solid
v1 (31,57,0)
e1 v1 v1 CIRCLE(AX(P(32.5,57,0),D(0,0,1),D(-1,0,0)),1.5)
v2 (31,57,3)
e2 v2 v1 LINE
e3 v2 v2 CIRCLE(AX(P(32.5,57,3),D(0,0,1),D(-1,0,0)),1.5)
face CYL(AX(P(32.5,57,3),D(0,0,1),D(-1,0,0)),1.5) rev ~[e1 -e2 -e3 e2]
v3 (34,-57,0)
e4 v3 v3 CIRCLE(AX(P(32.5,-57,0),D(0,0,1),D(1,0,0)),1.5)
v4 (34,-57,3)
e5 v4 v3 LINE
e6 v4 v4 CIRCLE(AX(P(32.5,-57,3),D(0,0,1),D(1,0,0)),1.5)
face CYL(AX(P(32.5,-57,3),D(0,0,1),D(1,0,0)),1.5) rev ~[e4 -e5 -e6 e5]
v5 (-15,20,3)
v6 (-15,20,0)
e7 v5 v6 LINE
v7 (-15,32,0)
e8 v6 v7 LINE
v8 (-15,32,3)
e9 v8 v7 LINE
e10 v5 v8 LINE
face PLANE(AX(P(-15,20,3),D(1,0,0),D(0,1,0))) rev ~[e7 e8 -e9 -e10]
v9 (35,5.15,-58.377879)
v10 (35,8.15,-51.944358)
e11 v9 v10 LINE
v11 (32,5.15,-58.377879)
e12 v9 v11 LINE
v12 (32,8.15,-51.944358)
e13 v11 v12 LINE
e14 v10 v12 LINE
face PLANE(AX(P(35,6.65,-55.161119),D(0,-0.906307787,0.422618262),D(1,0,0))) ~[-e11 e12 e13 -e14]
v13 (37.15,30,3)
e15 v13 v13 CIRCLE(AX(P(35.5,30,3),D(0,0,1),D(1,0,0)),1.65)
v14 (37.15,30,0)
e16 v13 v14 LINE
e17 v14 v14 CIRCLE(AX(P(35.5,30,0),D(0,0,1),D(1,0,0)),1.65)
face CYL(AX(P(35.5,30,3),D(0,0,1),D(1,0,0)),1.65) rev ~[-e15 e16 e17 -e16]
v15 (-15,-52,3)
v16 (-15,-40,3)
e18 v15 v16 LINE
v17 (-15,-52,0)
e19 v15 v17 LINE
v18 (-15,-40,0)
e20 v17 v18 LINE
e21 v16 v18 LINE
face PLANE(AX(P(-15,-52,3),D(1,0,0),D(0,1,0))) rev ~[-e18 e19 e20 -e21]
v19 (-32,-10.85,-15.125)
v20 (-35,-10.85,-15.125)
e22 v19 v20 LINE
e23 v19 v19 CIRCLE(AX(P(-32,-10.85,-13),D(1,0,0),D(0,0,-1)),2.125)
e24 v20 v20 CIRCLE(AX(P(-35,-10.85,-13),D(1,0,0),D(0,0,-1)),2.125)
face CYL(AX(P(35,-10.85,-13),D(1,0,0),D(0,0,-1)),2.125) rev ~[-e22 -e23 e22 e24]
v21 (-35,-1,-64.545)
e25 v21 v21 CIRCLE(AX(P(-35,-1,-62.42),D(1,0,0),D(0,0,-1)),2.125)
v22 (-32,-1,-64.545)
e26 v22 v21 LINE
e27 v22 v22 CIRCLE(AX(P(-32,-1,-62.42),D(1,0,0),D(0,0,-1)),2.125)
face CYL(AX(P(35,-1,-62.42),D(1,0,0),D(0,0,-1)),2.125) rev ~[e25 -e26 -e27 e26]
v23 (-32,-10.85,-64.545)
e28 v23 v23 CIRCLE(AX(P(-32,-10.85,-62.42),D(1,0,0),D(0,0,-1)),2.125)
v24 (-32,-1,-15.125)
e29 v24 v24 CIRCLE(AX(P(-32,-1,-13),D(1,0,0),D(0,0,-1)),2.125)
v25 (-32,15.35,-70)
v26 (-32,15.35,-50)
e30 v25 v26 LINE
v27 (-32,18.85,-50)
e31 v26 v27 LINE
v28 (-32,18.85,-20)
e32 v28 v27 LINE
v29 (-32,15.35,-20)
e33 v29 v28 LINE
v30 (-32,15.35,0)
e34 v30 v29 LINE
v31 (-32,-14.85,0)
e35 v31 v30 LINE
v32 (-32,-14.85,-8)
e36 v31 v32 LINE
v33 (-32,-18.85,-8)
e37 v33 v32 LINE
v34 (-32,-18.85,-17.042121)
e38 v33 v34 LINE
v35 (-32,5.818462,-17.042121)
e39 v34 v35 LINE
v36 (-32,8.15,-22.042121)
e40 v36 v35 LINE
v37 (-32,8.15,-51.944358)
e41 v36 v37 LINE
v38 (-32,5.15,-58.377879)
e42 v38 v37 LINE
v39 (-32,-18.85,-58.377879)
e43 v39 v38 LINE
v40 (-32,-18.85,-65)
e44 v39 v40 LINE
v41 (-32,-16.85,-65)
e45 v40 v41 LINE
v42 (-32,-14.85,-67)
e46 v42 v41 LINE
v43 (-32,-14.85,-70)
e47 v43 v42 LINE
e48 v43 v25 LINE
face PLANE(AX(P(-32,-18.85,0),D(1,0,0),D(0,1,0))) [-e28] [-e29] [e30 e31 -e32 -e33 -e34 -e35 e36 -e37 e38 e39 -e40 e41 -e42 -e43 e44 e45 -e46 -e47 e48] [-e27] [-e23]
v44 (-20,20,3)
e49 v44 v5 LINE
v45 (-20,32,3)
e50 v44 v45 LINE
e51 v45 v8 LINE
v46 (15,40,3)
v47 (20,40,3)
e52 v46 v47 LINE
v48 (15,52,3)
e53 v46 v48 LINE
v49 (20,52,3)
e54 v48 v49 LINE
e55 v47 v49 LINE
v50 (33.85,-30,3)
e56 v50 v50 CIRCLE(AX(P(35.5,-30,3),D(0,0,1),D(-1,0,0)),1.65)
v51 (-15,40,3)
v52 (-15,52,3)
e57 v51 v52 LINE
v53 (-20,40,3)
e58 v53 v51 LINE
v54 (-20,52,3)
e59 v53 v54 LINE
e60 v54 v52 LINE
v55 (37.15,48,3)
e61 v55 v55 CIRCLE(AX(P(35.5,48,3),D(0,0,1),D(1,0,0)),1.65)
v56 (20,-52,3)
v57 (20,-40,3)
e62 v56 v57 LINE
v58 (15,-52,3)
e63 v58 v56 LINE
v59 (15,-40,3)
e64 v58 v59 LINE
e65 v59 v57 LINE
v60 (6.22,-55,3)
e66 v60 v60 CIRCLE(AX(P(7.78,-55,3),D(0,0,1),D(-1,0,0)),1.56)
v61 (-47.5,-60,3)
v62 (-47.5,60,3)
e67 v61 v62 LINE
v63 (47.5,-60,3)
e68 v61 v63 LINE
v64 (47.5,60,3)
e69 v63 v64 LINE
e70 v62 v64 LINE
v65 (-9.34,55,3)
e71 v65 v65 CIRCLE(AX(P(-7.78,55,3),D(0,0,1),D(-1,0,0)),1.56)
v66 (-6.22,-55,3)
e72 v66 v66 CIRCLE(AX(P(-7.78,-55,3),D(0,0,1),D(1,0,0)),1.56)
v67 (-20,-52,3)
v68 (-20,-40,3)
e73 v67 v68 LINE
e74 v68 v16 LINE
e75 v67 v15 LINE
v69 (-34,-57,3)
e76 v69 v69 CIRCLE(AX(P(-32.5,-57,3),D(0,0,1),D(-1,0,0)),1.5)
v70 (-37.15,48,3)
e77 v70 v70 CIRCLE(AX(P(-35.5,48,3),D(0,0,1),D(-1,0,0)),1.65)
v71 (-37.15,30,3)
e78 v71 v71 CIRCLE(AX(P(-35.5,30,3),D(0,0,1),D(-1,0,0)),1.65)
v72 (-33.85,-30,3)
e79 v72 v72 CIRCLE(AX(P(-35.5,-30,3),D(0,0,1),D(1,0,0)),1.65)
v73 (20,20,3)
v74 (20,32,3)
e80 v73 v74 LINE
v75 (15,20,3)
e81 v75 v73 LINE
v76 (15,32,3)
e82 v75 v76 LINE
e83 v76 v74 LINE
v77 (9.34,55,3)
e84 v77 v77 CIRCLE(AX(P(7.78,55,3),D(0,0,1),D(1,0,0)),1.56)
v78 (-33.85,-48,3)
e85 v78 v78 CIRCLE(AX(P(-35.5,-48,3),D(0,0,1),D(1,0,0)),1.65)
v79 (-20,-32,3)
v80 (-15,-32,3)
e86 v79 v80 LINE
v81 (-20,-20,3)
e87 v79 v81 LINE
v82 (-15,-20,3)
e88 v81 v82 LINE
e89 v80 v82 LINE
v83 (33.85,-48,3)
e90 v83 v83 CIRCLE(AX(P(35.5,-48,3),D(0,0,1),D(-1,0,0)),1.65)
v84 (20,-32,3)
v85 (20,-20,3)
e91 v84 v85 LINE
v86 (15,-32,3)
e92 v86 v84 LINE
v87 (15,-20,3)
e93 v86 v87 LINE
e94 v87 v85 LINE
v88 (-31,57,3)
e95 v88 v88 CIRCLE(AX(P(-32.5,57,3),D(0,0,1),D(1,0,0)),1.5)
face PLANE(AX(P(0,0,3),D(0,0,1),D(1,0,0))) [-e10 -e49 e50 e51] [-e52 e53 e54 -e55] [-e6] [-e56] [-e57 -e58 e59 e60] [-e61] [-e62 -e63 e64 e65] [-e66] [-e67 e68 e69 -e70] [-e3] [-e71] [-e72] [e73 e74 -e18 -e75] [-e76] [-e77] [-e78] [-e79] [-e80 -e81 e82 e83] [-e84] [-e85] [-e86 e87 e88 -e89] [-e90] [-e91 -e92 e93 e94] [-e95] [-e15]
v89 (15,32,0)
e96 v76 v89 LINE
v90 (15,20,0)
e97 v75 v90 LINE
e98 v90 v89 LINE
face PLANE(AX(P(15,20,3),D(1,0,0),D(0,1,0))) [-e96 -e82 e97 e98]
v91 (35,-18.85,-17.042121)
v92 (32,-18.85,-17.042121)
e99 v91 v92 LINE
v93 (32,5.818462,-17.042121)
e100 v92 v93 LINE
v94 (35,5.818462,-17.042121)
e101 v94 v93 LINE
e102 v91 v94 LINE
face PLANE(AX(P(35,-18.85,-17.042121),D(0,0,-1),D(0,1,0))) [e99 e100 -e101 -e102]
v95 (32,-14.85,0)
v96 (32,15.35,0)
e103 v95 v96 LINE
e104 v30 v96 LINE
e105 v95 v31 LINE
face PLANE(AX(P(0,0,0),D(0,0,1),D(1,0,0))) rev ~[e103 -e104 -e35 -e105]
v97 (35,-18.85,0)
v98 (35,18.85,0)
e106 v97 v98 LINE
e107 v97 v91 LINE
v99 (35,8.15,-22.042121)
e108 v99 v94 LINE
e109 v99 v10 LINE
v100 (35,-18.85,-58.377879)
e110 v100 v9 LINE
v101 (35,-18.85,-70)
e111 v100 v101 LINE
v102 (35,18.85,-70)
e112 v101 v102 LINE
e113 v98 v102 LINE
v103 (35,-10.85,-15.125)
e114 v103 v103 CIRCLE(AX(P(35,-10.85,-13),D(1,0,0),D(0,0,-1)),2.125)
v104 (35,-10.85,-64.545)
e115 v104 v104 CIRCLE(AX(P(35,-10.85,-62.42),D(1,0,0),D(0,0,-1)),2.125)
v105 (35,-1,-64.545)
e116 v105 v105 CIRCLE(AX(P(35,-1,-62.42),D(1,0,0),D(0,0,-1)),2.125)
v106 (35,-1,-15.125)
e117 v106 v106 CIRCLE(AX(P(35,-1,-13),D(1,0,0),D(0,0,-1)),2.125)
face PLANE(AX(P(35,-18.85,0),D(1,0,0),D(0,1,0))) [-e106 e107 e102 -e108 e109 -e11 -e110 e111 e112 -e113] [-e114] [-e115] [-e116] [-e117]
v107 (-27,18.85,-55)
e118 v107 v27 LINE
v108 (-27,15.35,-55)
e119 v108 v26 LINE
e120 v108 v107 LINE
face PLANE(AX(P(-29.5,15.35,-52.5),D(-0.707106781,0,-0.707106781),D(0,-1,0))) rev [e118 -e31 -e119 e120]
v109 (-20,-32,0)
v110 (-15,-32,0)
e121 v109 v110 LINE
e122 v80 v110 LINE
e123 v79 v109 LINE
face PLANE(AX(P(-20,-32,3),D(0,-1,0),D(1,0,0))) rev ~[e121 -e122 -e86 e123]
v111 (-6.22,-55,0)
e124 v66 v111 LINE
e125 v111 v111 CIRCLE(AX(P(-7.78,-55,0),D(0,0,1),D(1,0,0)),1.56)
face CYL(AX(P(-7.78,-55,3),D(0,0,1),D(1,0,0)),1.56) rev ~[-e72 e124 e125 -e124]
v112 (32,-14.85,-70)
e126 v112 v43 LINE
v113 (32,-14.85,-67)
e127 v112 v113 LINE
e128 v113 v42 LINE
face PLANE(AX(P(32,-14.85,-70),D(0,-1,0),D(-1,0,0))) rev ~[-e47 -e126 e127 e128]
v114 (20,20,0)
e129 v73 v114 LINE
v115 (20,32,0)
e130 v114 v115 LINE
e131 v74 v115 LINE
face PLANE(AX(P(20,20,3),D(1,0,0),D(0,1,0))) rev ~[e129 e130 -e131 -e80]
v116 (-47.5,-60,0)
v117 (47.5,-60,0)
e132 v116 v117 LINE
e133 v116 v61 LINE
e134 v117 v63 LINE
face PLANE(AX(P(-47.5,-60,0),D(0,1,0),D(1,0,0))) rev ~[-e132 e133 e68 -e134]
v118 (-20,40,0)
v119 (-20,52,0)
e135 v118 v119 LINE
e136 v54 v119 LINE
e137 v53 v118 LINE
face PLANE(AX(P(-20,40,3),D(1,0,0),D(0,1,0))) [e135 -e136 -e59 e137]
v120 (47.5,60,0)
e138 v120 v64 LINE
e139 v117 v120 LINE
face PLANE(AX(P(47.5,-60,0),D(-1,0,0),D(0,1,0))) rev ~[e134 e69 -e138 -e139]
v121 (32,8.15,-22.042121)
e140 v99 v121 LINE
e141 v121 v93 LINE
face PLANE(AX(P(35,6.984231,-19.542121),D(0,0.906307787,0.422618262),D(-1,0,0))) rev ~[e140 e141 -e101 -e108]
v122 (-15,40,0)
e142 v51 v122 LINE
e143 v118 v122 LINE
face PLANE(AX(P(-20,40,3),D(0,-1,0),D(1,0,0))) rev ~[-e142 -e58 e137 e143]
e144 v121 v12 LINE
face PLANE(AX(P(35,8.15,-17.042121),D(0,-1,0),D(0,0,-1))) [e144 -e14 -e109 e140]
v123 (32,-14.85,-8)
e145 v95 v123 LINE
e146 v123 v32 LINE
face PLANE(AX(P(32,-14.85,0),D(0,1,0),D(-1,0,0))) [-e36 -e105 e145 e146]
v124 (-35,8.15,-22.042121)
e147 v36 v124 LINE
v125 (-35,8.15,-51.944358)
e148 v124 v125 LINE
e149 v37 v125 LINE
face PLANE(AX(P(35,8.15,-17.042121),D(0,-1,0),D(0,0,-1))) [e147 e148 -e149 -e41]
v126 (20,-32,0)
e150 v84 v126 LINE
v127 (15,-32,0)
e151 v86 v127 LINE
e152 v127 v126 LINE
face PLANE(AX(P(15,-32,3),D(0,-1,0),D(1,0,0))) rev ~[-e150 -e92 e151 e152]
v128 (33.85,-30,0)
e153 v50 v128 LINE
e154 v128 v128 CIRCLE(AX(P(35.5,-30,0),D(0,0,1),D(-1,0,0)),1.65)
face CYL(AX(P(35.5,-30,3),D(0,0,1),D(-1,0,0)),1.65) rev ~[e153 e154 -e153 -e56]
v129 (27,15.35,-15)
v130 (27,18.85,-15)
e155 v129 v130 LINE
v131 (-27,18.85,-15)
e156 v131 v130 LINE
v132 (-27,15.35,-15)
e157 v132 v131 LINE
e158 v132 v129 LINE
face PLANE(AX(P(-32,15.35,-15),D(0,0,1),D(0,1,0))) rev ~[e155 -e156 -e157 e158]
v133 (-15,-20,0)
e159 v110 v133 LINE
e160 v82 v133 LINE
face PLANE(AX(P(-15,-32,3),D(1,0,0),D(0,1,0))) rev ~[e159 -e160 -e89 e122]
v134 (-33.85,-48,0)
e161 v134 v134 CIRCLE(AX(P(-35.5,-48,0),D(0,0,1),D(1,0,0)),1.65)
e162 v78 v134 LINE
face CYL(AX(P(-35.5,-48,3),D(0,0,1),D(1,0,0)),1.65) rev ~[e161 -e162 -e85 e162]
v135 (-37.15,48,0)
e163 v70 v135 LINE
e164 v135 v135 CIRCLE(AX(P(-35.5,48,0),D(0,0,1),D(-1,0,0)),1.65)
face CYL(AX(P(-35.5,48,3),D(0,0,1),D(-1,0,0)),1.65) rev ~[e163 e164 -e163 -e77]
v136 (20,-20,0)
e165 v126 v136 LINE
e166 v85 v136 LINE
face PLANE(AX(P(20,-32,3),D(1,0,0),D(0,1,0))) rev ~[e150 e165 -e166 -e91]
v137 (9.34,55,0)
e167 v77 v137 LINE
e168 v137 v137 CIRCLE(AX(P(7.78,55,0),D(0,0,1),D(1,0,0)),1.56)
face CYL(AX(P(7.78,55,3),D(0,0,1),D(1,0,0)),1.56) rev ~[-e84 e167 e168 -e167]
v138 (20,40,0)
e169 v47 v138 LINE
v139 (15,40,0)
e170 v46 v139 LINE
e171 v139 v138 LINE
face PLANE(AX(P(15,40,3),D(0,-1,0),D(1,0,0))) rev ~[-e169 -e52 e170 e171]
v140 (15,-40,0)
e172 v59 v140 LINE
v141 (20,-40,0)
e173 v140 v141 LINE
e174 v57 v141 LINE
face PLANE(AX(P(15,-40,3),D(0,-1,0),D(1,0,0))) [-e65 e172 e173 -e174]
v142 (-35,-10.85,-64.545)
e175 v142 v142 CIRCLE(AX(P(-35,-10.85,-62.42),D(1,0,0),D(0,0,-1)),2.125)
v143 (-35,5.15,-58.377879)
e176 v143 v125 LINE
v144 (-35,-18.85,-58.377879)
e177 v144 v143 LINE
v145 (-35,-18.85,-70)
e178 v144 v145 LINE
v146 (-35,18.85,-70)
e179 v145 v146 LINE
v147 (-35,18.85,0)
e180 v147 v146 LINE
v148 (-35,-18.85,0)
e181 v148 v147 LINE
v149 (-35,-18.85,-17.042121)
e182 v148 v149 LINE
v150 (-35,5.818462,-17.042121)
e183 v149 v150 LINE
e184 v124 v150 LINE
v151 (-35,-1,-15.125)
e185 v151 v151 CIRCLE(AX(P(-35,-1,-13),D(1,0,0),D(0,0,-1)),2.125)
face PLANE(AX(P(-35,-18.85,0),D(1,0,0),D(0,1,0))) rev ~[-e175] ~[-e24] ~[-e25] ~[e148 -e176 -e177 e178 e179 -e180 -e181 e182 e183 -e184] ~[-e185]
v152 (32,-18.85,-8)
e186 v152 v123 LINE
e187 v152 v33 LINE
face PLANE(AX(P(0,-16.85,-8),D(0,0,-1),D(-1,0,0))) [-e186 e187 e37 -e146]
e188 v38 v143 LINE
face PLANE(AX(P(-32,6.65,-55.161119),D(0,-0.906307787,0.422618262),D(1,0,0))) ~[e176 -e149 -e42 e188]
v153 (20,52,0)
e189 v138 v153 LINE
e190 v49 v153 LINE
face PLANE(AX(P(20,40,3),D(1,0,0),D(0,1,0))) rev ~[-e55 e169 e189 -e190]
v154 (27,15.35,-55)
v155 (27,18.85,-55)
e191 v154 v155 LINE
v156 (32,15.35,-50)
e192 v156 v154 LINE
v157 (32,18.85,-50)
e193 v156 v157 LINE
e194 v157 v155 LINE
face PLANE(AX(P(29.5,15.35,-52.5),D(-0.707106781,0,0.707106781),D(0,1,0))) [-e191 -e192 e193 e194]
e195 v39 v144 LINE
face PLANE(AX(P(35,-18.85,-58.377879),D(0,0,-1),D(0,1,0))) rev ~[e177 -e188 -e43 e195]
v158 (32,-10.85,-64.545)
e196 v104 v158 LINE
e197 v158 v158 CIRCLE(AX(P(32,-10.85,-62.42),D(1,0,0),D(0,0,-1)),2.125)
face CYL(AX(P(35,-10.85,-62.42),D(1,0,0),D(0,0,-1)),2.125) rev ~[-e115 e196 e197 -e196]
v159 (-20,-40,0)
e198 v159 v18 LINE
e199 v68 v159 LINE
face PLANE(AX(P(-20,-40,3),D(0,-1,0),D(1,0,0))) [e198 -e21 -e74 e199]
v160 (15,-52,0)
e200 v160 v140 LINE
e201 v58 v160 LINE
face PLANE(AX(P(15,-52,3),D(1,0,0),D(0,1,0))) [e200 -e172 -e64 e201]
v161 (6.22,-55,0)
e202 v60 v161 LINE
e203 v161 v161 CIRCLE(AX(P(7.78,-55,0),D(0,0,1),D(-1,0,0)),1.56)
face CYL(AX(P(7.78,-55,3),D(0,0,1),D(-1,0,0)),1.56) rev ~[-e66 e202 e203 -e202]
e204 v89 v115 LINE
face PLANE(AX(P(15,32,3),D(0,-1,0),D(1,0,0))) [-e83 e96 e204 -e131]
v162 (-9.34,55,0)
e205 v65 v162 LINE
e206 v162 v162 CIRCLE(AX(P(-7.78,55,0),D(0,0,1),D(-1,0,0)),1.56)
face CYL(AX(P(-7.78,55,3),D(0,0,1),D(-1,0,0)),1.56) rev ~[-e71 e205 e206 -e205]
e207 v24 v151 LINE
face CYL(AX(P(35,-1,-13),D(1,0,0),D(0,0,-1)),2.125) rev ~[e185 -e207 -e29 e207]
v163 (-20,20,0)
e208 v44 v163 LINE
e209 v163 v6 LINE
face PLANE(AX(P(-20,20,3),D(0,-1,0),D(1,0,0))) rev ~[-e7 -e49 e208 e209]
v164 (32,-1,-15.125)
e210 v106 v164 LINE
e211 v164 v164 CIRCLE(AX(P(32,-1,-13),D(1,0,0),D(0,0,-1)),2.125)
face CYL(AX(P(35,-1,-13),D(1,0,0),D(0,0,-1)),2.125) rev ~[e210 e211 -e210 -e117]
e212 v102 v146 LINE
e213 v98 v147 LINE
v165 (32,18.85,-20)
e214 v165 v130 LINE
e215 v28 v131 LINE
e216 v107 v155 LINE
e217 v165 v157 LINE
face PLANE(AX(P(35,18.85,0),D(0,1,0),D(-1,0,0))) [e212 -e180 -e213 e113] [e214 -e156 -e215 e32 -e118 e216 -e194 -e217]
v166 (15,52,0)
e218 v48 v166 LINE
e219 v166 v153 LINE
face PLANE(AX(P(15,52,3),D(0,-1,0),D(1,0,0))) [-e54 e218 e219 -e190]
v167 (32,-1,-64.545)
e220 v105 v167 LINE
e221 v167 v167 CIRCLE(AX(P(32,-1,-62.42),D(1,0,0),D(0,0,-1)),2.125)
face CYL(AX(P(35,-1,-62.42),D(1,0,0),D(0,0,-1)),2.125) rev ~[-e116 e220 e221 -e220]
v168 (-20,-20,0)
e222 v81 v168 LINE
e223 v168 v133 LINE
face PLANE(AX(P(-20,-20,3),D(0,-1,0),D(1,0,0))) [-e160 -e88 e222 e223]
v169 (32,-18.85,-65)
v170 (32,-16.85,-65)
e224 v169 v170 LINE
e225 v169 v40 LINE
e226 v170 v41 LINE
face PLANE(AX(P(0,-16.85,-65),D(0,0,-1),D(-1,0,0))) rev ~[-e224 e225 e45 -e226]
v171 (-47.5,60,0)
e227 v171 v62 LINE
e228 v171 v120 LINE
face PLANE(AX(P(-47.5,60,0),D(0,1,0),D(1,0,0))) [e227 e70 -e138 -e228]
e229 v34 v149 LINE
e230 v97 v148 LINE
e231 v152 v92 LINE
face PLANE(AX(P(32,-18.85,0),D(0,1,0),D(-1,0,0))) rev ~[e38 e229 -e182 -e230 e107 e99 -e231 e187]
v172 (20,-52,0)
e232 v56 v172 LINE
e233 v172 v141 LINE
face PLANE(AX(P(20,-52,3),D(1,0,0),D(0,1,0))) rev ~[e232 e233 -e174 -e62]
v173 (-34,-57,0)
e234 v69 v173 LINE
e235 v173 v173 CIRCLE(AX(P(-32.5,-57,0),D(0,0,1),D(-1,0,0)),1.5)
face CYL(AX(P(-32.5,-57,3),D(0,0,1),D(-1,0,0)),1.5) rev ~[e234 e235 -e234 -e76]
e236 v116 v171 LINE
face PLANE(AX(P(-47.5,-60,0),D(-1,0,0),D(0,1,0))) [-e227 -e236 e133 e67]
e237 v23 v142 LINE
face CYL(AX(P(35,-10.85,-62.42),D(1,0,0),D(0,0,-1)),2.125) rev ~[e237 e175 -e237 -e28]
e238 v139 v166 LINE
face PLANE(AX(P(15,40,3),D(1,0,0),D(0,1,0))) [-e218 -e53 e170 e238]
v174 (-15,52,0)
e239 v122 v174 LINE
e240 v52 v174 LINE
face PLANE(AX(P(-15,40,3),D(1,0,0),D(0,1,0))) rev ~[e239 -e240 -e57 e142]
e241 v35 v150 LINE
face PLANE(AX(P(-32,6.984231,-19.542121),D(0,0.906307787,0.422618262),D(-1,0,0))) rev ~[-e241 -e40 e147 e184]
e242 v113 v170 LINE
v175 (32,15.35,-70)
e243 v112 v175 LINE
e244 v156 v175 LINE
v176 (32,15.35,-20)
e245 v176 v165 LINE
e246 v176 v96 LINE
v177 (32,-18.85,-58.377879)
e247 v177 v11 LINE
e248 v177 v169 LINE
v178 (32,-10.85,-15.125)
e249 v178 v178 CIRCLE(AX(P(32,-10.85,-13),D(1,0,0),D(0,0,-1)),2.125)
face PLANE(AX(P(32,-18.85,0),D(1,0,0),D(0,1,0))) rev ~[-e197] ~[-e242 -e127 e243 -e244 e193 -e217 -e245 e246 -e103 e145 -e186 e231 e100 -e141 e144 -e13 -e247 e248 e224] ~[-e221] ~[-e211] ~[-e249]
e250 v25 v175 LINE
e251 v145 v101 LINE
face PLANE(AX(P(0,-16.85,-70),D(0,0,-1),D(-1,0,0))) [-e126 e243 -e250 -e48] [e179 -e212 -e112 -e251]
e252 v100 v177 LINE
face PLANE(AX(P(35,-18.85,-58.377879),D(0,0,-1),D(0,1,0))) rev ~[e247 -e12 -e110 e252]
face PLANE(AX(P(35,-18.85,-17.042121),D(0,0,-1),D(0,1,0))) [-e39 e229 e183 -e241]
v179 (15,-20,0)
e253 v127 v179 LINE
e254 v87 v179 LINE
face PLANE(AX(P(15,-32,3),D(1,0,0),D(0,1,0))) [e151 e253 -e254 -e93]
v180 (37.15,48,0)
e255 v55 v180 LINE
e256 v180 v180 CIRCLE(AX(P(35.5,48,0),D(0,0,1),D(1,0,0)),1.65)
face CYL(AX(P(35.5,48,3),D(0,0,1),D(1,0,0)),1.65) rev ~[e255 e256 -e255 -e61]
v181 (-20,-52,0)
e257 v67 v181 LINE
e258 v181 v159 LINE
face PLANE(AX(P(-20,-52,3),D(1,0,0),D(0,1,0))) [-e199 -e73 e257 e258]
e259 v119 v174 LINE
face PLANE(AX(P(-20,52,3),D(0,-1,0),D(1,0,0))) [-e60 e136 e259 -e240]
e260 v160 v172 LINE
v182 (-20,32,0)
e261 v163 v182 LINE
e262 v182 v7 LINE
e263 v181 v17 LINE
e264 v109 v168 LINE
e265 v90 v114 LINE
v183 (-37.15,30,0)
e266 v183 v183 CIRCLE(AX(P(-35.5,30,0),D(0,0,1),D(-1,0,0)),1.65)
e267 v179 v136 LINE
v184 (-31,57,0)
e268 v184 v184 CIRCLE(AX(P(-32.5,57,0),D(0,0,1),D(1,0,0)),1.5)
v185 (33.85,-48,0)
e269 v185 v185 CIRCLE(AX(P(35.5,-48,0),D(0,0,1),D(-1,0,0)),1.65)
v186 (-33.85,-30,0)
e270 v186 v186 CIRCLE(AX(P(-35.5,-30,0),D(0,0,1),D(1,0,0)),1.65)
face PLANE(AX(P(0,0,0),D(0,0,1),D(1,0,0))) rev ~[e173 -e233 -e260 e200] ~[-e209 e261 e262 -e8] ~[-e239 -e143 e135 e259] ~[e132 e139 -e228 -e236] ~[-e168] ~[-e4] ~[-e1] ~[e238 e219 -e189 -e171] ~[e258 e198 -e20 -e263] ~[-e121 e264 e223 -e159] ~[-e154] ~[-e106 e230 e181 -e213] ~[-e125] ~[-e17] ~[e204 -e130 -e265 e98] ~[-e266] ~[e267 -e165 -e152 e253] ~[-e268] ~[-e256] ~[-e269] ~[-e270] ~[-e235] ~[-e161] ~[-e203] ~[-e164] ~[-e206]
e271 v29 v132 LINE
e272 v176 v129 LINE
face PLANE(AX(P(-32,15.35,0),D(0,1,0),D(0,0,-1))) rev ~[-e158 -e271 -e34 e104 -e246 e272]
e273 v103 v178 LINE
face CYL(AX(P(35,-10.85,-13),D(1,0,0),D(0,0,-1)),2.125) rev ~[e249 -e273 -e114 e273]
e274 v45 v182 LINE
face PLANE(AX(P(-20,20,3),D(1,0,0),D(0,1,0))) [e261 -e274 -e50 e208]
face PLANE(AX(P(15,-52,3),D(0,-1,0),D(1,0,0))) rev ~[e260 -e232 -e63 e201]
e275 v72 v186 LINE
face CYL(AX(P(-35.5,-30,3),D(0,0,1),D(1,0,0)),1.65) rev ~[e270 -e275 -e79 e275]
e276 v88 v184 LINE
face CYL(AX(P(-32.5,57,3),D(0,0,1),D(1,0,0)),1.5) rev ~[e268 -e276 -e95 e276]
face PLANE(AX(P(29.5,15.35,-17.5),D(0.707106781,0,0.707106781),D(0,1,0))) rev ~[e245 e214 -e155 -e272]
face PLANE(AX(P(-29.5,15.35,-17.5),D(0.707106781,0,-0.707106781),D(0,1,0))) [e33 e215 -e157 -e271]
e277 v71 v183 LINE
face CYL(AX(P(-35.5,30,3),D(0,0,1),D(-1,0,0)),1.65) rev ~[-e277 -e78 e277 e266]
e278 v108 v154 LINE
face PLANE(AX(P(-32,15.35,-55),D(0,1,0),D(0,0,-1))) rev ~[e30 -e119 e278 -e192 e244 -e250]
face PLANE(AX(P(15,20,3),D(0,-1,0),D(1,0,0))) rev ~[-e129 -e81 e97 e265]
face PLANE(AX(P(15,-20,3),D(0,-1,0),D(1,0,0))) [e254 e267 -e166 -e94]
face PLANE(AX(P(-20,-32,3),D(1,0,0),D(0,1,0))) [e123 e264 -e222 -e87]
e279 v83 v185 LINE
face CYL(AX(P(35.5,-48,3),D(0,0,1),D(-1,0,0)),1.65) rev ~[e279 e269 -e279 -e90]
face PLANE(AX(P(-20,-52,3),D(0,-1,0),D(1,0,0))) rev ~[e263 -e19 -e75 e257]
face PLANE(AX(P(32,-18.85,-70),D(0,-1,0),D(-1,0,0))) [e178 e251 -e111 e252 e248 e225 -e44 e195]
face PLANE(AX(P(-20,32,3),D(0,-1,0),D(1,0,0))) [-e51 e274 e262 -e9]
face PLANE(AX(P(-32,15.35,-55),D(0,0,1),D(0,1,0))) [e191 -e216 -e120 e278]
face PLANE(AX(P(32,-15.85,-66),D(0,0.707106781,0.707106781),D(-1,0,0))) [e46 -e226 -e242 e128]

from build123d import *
from OCP.BRepFilletAPI import BRepFilletAPI_MakeChamfer

# Parameters (mm, degrees)
SKETCH_1_W          = 95
SKETCH_1_H          = 120
EXTRUDE_1_DEPTH     = 3
SKETCH_2_W          = 3
SKETCH_2_H          = 37.7
EXTRUDE_2_DEPTH     = 70
SKETCH_4_R          = 1.5
CUT_EXTRUDE_2_DEPTH = 10
SKETCH_18_W         = 5
SKETCH_18_H         = 12
CUT_EXTRUDE_5_DEPTH = 20
SKETCH_21_R         = 1.65
CUT_EXTRUDE_6_DEPTH = 10
SKETCH_22_R         = 1.56
CUT_EXTRUDE_7_DEPTH = 10
SKETCH_3_R          = 2.125
CUT_EXTRUDE_8_DEPTH = 80
SKETCH_23_W         = 41.335758236
SKETCH_23_H         = 27
CUT_EXTRUDE_9_DEPTH = 80
CHAMFER_4_SIZE      = 3
CHAMFER_4_SIZE2     = 6.433520762
CHAMFER_5_SIZE      = 5
CHAMFER_5_SIZE2     = 2.331538291
SKETCH_24_W         = 15
SKETCH_24_H         = 3.5
EXTRUDE_3_DEPTH     = 64
CHAMFER_7_SIZE      = 5
SKETCH_26_W         = 64
SKETCH_26_H         = 4
EXTRUDE_5_DEPTH     = 8
SKETCH_5_W          = 64
SKETCH_5_H          = 4
EXTRUDE_6_DEPTH     = 5
CHAMFER_9_SIZE      = 2


with BuildPart() as part:
    # 草图1 → 凸台-拉伸1 (new body)
    with BuildSketch(Plane.XY):
        Rectangle(SKETCH_1_W, SKETCH_1_H)
    extrude(amount=EXTRUDE_1_DEPTH)

    # 草图2 → 凸台-拉伸2 (add)
    with BuildSketch(Plane(origin=(0, 0, 0), x_dir=(-1, 0, 0), z_dir=(0, 0, -1))):
        with Locations((-33.5, 0)):
            Rectangle(SKETCH_2_W, SKETCH_2_H)
        with Locations((33.5, 0)):
            Rectangle(SKETCH_2_W, SKETCH_2_H)
    extrude(amount=EXTRUDE_2_DEPTH)

    # 草图4 → 切除-拉伸2 (cut)
    with BuildSketch(Plane.XY.offset(3)):
        with Locations((-32.5, 57)):
            Circle(SKETCH_4_R)
        with Locations(Location((32.5, 57, 0), (0, 0, 180))):
            Circle(SKETCH_4_R)
        with Locations((32.5, -57)):
            Circle(SKETCH_4_R)
        with Locations(Location((-32.5, -57, 0), (0, 0, 180))):
            Circle(SKETCH_4_R)
    extrude(amount=-CUT_EXTRUDE_2_DEPTH, mode=Mode.SUBTRACT)

    # 草图18 → 切除-拉伸5 (cut)
    with BuildSketch(Plane.XY.offset(3)):
        with Locations((-17.5, -26)):
            Rectangle(SKETCH_18_W, SKETCH_18_H)
        with Locations((17.5, -26)):
            Rectangle(SKETCH_18_W, SKETCH_18_H)
        with Locations((-17.5, -46)):
            Rectangle(SKETCH_18_W, SKETCH_18_H)
        with Locations((17.5, -46)):
            Rectangle(SKETCH_18_W, SKETCH_18_H)
        with Locations((17.5, 46)):
            Rectangle(SKETCH_18_W, SKETCH_18_H)
        with Locations((-17.5, 46)):
            Rectangle(SKETCH_18_W, SKETCH_18_H)
        with Locations((17.5, 26)):
            Rectangle(SKETCH_18_W, SKETCH_18_H)
        with Locations((-17.5, 26)):
            Rectangle(SKETCH_18_W, SKETCH_18_H)
    extrude(amount=-CUT_EXTRUDE_5_DEPTH, mode=Mode.SUBTRACT)

    # 草图21 → 切除-拉伸6 (cut)
    with BuildSketch(Plane.XY.offset(3)):
        with Locations((-35.5, -48)):
            Circle(SKETCH_21_R)
        with Locations((-35.5, -30)):
            Circle(SKETCH_21_R)
        with Locations(Location((35.5, -30, 0), (0, 0, 180))):
            Circle(SKETCH_21_R)
        with Locations(Location((35.5, -48, 0), (0, 0, 180))):
            Circle(SKETCH_21_R)
        with Locations((35.5, 48)):
            Circle(SKETCH_21_R)
        with Locations((35.5, 30)):
            Circle(SKETCH_21_R)
        with Locations(Location((-35.5, 30, 0), (0, 0, 180))):
            Circle(SKETCH_21_R)
        with Locations(Location((-35.5, 48, 0), (0, 0, 180))):
            Circle(SKETCH_21_R)
    extrude(amount=-CUT_EXTRUDE_6_DEPTH, mode=Mode.SUBTRACT)

    # 草图22 → 切除-拉伸7 (cut)
    with BuildSketch(Plane.XY.offset(3)):
        with Locations((-7.78, -55)):
            Circle(SKETCH_22_R)
        with Locations(Location((7.78, -55, 0), (0, 0, 180))):
            Circle(SKETCH_22_R)
        with Locations((7.78, 55)):
            Circle(SKETCH_22_R)
        with Locations(Location((-7.78, 55, 0), (0, 0, 180))):
            Circle(SKETCH_22_R)
    extrude(amount=-CUT_EXTRUDE_7_DEPTH, mode=Mode.SUBTRACT)

    # 草图3 → 切除-拉伸8 (cut)
    with BuildSketch(Plane(origin=(35, 0, 0), x_dir=(0, 0, -1), z_dir=(1, 0, 0))):
        with Locations((13, -1)):
            Circle(SKETCH_3_R)
        with Locations((13, -10.85)):
            Circle(SKETCH_3_R)
        with Locations((62.42, -1)):
            Circle(SKETCH_3_R)
        with Locations((62.42, -10.85)):
            Circle(SKETCH_3_R)
    extrude(amount=-CUT_EXTRUDE_8_DEPTH, mode=Mode.SUBTRACT)

    # 草图23 → 切除-拉伸9 (cut)
    with BuildSketch(Plane(origin=(35, 0, 0), x_dir=(0, 0, -1), z_dir=(1, 0, 0))):
        with Locations((37.71, -5.35)):
            Rectangle(SKETCH_23_W, SKETCH_23_H)
    extrude(amount=-CUT_EXTRUDE_9_DEPTH, mode=Mode.SUBTRACT)

    # 倒角4: one chamfer whose edges measure the first distance from different faces: ONE call of the kernel's chamfer builder (chamfer() names one face for all edges)
    chamfer_4_edges_1 = [part.edges().sort_by_distance(p)[0] for p in [
        (-33.5, 8.15, -58.377879118),
    ]]
    chamfer_4_side_1 = [part.faces().sort_by_distance(p)[0] for p in [
        (-33.5, -5.35, -58.377879118),
    ]]
    chamfer_4_edges_2 = [part.edges().sort_by_distance(p)[0] for p in [
        (33.5, 8.15, -58.377879118),
    ]]
    chamfer_4_side_2 = [part.faces().sort_by_distance(p)[0] for p in [
        (33.5, -5.35, -58.377879118),
    ]]
    chamfer_4 = BRepFilletAPI_MakeChamfer(part.part.solid().wrapped)
    for e in chamfer_4_edges_1:
        chamfer_4.Add(CHAMFER_4_SIZE, CHAMFER_4_SIZE2, e.wrapped, chamfer_4_side_1[0].wrapped)  # the first distance lies on this face
    for e in chamfer_4_edges_2:
        chamfer_4.Add(CHAMFER_4_SIZE, CHAMFER_4_SIZE2, e.wrapped, chamfer_4_side_2[0].wrapped)  # the first distance lies on this face
    add(Compound.cast(chamfer_4.Shape()), mode=Mode.REPLACE)

    # 倒角5: one chamfer whose edges measure the first distance from different faces: ONE call of the kernel's chamfer builder (chamfer() names one face for all edges)
    chamfer_5_edges_1 = [part.edges().sort_by_distance(p)[0] for p in [
        (-33.5, 8.15, -17.042120882),
    ]]
    chamfer_5_side_1 = [part.faces().sort_by_distance(p)[0] for p in [
        (-33.5, 8.15, -34.493239619),
    ]]
    chamfer_5_edges_2 = [part.edges().sort_by_distance(p)[0] for p in [
        (33.5, 8.15, -17.042120882),
    ]]
    chamfer_5_side_2 = [part.faces().sort_by_distance(p)[0] for p in [
        (33.5, 8.15, -34.493239619),
    ]]
    chamfer_5 = BRepFilletAPI_MakeChamfer(part.part.solid().wrapped)
    for e in chamfer_5_edges_1:
        chamfer_5.Add(CHAMFER_5_SIZE, CHAMFER_5_SIZE2, e.wrapped, chamfer_5_side_1[0].wrapped)  # the first distance lies on this face
    for e in chamfer_5_edges_2:
        chamfer_5.Add(CHAMFER_5_SIZE, CHAMFER_5_SIZE2, e.wrapped, chamfer_5_side_2[0].wrapped)  # the first distance lies on this face
    add(Compound.cast(chamfer_5.Shape()), mode=Mode.REPLACE)

    # 草图24 → 凸台-拉伸3 (add)
    with BuildSketch(Plane(origin=(-32, 0, 0), x_dir=(0, 0, -1), z_dir=(1, 0, 0))):
        with Locations((7.5, 17.1)):
            Rectangle(SKETCH_24_W, SKETCH_24_H)
        with Locations((62.5, 17.1)):
            Rectangle(SKETCH_24_W, SKETCH_24_H)
    extrude(amount=EXTRUDE_3_DEPTH)

    # 倒角7
    chamfer_7_edges = [part.edges().sort_by_distance(p)[0] for p in [
        (-32, 17.1, -15),
        (32, 17.1, -15),
        (-32, 17.1, -55),
        (32, 17.1, -55),
    ]]
    chamfer(chamfer_7_edges, length=CHAMFER_7_SIZE)

    # 草图26 → 凸台-拉伸5 (add)
    with BuildSketch(Plane(origin=(0, 0, 0), x_dir=(-1, 0, 0), z_dir=(0, 0, -1))):
        with Locations((0, -16.85)):
            Rectangle(SKETCH_26_W, SKETCH_26_H)
    extrude(amount=EXTRUDE_5_DEPTH)

    # 草图5 → 凸台-拉伸6 (add)
    with BuildSketch(Plane(origin=(0, 0, -70), x_dir=(-1, 0, 0), z_dir=(0, 0, -1))):
        with Locations((0, -16.85)):
            Rectangle(SKETCH_5_W, SKETCH_5_H)
    extrude(amount=-EXTRUDE_6_DEPTH)

    # 倒角9
    chamfer_9_edges = [part.edges().sort_by_distance(p)[0] for p in [
        (0, -14.85, -65),
    ]]
    chamfer(chamfer_9_edges, length=CHAMFER_9_SIZE)


solid = part.part
